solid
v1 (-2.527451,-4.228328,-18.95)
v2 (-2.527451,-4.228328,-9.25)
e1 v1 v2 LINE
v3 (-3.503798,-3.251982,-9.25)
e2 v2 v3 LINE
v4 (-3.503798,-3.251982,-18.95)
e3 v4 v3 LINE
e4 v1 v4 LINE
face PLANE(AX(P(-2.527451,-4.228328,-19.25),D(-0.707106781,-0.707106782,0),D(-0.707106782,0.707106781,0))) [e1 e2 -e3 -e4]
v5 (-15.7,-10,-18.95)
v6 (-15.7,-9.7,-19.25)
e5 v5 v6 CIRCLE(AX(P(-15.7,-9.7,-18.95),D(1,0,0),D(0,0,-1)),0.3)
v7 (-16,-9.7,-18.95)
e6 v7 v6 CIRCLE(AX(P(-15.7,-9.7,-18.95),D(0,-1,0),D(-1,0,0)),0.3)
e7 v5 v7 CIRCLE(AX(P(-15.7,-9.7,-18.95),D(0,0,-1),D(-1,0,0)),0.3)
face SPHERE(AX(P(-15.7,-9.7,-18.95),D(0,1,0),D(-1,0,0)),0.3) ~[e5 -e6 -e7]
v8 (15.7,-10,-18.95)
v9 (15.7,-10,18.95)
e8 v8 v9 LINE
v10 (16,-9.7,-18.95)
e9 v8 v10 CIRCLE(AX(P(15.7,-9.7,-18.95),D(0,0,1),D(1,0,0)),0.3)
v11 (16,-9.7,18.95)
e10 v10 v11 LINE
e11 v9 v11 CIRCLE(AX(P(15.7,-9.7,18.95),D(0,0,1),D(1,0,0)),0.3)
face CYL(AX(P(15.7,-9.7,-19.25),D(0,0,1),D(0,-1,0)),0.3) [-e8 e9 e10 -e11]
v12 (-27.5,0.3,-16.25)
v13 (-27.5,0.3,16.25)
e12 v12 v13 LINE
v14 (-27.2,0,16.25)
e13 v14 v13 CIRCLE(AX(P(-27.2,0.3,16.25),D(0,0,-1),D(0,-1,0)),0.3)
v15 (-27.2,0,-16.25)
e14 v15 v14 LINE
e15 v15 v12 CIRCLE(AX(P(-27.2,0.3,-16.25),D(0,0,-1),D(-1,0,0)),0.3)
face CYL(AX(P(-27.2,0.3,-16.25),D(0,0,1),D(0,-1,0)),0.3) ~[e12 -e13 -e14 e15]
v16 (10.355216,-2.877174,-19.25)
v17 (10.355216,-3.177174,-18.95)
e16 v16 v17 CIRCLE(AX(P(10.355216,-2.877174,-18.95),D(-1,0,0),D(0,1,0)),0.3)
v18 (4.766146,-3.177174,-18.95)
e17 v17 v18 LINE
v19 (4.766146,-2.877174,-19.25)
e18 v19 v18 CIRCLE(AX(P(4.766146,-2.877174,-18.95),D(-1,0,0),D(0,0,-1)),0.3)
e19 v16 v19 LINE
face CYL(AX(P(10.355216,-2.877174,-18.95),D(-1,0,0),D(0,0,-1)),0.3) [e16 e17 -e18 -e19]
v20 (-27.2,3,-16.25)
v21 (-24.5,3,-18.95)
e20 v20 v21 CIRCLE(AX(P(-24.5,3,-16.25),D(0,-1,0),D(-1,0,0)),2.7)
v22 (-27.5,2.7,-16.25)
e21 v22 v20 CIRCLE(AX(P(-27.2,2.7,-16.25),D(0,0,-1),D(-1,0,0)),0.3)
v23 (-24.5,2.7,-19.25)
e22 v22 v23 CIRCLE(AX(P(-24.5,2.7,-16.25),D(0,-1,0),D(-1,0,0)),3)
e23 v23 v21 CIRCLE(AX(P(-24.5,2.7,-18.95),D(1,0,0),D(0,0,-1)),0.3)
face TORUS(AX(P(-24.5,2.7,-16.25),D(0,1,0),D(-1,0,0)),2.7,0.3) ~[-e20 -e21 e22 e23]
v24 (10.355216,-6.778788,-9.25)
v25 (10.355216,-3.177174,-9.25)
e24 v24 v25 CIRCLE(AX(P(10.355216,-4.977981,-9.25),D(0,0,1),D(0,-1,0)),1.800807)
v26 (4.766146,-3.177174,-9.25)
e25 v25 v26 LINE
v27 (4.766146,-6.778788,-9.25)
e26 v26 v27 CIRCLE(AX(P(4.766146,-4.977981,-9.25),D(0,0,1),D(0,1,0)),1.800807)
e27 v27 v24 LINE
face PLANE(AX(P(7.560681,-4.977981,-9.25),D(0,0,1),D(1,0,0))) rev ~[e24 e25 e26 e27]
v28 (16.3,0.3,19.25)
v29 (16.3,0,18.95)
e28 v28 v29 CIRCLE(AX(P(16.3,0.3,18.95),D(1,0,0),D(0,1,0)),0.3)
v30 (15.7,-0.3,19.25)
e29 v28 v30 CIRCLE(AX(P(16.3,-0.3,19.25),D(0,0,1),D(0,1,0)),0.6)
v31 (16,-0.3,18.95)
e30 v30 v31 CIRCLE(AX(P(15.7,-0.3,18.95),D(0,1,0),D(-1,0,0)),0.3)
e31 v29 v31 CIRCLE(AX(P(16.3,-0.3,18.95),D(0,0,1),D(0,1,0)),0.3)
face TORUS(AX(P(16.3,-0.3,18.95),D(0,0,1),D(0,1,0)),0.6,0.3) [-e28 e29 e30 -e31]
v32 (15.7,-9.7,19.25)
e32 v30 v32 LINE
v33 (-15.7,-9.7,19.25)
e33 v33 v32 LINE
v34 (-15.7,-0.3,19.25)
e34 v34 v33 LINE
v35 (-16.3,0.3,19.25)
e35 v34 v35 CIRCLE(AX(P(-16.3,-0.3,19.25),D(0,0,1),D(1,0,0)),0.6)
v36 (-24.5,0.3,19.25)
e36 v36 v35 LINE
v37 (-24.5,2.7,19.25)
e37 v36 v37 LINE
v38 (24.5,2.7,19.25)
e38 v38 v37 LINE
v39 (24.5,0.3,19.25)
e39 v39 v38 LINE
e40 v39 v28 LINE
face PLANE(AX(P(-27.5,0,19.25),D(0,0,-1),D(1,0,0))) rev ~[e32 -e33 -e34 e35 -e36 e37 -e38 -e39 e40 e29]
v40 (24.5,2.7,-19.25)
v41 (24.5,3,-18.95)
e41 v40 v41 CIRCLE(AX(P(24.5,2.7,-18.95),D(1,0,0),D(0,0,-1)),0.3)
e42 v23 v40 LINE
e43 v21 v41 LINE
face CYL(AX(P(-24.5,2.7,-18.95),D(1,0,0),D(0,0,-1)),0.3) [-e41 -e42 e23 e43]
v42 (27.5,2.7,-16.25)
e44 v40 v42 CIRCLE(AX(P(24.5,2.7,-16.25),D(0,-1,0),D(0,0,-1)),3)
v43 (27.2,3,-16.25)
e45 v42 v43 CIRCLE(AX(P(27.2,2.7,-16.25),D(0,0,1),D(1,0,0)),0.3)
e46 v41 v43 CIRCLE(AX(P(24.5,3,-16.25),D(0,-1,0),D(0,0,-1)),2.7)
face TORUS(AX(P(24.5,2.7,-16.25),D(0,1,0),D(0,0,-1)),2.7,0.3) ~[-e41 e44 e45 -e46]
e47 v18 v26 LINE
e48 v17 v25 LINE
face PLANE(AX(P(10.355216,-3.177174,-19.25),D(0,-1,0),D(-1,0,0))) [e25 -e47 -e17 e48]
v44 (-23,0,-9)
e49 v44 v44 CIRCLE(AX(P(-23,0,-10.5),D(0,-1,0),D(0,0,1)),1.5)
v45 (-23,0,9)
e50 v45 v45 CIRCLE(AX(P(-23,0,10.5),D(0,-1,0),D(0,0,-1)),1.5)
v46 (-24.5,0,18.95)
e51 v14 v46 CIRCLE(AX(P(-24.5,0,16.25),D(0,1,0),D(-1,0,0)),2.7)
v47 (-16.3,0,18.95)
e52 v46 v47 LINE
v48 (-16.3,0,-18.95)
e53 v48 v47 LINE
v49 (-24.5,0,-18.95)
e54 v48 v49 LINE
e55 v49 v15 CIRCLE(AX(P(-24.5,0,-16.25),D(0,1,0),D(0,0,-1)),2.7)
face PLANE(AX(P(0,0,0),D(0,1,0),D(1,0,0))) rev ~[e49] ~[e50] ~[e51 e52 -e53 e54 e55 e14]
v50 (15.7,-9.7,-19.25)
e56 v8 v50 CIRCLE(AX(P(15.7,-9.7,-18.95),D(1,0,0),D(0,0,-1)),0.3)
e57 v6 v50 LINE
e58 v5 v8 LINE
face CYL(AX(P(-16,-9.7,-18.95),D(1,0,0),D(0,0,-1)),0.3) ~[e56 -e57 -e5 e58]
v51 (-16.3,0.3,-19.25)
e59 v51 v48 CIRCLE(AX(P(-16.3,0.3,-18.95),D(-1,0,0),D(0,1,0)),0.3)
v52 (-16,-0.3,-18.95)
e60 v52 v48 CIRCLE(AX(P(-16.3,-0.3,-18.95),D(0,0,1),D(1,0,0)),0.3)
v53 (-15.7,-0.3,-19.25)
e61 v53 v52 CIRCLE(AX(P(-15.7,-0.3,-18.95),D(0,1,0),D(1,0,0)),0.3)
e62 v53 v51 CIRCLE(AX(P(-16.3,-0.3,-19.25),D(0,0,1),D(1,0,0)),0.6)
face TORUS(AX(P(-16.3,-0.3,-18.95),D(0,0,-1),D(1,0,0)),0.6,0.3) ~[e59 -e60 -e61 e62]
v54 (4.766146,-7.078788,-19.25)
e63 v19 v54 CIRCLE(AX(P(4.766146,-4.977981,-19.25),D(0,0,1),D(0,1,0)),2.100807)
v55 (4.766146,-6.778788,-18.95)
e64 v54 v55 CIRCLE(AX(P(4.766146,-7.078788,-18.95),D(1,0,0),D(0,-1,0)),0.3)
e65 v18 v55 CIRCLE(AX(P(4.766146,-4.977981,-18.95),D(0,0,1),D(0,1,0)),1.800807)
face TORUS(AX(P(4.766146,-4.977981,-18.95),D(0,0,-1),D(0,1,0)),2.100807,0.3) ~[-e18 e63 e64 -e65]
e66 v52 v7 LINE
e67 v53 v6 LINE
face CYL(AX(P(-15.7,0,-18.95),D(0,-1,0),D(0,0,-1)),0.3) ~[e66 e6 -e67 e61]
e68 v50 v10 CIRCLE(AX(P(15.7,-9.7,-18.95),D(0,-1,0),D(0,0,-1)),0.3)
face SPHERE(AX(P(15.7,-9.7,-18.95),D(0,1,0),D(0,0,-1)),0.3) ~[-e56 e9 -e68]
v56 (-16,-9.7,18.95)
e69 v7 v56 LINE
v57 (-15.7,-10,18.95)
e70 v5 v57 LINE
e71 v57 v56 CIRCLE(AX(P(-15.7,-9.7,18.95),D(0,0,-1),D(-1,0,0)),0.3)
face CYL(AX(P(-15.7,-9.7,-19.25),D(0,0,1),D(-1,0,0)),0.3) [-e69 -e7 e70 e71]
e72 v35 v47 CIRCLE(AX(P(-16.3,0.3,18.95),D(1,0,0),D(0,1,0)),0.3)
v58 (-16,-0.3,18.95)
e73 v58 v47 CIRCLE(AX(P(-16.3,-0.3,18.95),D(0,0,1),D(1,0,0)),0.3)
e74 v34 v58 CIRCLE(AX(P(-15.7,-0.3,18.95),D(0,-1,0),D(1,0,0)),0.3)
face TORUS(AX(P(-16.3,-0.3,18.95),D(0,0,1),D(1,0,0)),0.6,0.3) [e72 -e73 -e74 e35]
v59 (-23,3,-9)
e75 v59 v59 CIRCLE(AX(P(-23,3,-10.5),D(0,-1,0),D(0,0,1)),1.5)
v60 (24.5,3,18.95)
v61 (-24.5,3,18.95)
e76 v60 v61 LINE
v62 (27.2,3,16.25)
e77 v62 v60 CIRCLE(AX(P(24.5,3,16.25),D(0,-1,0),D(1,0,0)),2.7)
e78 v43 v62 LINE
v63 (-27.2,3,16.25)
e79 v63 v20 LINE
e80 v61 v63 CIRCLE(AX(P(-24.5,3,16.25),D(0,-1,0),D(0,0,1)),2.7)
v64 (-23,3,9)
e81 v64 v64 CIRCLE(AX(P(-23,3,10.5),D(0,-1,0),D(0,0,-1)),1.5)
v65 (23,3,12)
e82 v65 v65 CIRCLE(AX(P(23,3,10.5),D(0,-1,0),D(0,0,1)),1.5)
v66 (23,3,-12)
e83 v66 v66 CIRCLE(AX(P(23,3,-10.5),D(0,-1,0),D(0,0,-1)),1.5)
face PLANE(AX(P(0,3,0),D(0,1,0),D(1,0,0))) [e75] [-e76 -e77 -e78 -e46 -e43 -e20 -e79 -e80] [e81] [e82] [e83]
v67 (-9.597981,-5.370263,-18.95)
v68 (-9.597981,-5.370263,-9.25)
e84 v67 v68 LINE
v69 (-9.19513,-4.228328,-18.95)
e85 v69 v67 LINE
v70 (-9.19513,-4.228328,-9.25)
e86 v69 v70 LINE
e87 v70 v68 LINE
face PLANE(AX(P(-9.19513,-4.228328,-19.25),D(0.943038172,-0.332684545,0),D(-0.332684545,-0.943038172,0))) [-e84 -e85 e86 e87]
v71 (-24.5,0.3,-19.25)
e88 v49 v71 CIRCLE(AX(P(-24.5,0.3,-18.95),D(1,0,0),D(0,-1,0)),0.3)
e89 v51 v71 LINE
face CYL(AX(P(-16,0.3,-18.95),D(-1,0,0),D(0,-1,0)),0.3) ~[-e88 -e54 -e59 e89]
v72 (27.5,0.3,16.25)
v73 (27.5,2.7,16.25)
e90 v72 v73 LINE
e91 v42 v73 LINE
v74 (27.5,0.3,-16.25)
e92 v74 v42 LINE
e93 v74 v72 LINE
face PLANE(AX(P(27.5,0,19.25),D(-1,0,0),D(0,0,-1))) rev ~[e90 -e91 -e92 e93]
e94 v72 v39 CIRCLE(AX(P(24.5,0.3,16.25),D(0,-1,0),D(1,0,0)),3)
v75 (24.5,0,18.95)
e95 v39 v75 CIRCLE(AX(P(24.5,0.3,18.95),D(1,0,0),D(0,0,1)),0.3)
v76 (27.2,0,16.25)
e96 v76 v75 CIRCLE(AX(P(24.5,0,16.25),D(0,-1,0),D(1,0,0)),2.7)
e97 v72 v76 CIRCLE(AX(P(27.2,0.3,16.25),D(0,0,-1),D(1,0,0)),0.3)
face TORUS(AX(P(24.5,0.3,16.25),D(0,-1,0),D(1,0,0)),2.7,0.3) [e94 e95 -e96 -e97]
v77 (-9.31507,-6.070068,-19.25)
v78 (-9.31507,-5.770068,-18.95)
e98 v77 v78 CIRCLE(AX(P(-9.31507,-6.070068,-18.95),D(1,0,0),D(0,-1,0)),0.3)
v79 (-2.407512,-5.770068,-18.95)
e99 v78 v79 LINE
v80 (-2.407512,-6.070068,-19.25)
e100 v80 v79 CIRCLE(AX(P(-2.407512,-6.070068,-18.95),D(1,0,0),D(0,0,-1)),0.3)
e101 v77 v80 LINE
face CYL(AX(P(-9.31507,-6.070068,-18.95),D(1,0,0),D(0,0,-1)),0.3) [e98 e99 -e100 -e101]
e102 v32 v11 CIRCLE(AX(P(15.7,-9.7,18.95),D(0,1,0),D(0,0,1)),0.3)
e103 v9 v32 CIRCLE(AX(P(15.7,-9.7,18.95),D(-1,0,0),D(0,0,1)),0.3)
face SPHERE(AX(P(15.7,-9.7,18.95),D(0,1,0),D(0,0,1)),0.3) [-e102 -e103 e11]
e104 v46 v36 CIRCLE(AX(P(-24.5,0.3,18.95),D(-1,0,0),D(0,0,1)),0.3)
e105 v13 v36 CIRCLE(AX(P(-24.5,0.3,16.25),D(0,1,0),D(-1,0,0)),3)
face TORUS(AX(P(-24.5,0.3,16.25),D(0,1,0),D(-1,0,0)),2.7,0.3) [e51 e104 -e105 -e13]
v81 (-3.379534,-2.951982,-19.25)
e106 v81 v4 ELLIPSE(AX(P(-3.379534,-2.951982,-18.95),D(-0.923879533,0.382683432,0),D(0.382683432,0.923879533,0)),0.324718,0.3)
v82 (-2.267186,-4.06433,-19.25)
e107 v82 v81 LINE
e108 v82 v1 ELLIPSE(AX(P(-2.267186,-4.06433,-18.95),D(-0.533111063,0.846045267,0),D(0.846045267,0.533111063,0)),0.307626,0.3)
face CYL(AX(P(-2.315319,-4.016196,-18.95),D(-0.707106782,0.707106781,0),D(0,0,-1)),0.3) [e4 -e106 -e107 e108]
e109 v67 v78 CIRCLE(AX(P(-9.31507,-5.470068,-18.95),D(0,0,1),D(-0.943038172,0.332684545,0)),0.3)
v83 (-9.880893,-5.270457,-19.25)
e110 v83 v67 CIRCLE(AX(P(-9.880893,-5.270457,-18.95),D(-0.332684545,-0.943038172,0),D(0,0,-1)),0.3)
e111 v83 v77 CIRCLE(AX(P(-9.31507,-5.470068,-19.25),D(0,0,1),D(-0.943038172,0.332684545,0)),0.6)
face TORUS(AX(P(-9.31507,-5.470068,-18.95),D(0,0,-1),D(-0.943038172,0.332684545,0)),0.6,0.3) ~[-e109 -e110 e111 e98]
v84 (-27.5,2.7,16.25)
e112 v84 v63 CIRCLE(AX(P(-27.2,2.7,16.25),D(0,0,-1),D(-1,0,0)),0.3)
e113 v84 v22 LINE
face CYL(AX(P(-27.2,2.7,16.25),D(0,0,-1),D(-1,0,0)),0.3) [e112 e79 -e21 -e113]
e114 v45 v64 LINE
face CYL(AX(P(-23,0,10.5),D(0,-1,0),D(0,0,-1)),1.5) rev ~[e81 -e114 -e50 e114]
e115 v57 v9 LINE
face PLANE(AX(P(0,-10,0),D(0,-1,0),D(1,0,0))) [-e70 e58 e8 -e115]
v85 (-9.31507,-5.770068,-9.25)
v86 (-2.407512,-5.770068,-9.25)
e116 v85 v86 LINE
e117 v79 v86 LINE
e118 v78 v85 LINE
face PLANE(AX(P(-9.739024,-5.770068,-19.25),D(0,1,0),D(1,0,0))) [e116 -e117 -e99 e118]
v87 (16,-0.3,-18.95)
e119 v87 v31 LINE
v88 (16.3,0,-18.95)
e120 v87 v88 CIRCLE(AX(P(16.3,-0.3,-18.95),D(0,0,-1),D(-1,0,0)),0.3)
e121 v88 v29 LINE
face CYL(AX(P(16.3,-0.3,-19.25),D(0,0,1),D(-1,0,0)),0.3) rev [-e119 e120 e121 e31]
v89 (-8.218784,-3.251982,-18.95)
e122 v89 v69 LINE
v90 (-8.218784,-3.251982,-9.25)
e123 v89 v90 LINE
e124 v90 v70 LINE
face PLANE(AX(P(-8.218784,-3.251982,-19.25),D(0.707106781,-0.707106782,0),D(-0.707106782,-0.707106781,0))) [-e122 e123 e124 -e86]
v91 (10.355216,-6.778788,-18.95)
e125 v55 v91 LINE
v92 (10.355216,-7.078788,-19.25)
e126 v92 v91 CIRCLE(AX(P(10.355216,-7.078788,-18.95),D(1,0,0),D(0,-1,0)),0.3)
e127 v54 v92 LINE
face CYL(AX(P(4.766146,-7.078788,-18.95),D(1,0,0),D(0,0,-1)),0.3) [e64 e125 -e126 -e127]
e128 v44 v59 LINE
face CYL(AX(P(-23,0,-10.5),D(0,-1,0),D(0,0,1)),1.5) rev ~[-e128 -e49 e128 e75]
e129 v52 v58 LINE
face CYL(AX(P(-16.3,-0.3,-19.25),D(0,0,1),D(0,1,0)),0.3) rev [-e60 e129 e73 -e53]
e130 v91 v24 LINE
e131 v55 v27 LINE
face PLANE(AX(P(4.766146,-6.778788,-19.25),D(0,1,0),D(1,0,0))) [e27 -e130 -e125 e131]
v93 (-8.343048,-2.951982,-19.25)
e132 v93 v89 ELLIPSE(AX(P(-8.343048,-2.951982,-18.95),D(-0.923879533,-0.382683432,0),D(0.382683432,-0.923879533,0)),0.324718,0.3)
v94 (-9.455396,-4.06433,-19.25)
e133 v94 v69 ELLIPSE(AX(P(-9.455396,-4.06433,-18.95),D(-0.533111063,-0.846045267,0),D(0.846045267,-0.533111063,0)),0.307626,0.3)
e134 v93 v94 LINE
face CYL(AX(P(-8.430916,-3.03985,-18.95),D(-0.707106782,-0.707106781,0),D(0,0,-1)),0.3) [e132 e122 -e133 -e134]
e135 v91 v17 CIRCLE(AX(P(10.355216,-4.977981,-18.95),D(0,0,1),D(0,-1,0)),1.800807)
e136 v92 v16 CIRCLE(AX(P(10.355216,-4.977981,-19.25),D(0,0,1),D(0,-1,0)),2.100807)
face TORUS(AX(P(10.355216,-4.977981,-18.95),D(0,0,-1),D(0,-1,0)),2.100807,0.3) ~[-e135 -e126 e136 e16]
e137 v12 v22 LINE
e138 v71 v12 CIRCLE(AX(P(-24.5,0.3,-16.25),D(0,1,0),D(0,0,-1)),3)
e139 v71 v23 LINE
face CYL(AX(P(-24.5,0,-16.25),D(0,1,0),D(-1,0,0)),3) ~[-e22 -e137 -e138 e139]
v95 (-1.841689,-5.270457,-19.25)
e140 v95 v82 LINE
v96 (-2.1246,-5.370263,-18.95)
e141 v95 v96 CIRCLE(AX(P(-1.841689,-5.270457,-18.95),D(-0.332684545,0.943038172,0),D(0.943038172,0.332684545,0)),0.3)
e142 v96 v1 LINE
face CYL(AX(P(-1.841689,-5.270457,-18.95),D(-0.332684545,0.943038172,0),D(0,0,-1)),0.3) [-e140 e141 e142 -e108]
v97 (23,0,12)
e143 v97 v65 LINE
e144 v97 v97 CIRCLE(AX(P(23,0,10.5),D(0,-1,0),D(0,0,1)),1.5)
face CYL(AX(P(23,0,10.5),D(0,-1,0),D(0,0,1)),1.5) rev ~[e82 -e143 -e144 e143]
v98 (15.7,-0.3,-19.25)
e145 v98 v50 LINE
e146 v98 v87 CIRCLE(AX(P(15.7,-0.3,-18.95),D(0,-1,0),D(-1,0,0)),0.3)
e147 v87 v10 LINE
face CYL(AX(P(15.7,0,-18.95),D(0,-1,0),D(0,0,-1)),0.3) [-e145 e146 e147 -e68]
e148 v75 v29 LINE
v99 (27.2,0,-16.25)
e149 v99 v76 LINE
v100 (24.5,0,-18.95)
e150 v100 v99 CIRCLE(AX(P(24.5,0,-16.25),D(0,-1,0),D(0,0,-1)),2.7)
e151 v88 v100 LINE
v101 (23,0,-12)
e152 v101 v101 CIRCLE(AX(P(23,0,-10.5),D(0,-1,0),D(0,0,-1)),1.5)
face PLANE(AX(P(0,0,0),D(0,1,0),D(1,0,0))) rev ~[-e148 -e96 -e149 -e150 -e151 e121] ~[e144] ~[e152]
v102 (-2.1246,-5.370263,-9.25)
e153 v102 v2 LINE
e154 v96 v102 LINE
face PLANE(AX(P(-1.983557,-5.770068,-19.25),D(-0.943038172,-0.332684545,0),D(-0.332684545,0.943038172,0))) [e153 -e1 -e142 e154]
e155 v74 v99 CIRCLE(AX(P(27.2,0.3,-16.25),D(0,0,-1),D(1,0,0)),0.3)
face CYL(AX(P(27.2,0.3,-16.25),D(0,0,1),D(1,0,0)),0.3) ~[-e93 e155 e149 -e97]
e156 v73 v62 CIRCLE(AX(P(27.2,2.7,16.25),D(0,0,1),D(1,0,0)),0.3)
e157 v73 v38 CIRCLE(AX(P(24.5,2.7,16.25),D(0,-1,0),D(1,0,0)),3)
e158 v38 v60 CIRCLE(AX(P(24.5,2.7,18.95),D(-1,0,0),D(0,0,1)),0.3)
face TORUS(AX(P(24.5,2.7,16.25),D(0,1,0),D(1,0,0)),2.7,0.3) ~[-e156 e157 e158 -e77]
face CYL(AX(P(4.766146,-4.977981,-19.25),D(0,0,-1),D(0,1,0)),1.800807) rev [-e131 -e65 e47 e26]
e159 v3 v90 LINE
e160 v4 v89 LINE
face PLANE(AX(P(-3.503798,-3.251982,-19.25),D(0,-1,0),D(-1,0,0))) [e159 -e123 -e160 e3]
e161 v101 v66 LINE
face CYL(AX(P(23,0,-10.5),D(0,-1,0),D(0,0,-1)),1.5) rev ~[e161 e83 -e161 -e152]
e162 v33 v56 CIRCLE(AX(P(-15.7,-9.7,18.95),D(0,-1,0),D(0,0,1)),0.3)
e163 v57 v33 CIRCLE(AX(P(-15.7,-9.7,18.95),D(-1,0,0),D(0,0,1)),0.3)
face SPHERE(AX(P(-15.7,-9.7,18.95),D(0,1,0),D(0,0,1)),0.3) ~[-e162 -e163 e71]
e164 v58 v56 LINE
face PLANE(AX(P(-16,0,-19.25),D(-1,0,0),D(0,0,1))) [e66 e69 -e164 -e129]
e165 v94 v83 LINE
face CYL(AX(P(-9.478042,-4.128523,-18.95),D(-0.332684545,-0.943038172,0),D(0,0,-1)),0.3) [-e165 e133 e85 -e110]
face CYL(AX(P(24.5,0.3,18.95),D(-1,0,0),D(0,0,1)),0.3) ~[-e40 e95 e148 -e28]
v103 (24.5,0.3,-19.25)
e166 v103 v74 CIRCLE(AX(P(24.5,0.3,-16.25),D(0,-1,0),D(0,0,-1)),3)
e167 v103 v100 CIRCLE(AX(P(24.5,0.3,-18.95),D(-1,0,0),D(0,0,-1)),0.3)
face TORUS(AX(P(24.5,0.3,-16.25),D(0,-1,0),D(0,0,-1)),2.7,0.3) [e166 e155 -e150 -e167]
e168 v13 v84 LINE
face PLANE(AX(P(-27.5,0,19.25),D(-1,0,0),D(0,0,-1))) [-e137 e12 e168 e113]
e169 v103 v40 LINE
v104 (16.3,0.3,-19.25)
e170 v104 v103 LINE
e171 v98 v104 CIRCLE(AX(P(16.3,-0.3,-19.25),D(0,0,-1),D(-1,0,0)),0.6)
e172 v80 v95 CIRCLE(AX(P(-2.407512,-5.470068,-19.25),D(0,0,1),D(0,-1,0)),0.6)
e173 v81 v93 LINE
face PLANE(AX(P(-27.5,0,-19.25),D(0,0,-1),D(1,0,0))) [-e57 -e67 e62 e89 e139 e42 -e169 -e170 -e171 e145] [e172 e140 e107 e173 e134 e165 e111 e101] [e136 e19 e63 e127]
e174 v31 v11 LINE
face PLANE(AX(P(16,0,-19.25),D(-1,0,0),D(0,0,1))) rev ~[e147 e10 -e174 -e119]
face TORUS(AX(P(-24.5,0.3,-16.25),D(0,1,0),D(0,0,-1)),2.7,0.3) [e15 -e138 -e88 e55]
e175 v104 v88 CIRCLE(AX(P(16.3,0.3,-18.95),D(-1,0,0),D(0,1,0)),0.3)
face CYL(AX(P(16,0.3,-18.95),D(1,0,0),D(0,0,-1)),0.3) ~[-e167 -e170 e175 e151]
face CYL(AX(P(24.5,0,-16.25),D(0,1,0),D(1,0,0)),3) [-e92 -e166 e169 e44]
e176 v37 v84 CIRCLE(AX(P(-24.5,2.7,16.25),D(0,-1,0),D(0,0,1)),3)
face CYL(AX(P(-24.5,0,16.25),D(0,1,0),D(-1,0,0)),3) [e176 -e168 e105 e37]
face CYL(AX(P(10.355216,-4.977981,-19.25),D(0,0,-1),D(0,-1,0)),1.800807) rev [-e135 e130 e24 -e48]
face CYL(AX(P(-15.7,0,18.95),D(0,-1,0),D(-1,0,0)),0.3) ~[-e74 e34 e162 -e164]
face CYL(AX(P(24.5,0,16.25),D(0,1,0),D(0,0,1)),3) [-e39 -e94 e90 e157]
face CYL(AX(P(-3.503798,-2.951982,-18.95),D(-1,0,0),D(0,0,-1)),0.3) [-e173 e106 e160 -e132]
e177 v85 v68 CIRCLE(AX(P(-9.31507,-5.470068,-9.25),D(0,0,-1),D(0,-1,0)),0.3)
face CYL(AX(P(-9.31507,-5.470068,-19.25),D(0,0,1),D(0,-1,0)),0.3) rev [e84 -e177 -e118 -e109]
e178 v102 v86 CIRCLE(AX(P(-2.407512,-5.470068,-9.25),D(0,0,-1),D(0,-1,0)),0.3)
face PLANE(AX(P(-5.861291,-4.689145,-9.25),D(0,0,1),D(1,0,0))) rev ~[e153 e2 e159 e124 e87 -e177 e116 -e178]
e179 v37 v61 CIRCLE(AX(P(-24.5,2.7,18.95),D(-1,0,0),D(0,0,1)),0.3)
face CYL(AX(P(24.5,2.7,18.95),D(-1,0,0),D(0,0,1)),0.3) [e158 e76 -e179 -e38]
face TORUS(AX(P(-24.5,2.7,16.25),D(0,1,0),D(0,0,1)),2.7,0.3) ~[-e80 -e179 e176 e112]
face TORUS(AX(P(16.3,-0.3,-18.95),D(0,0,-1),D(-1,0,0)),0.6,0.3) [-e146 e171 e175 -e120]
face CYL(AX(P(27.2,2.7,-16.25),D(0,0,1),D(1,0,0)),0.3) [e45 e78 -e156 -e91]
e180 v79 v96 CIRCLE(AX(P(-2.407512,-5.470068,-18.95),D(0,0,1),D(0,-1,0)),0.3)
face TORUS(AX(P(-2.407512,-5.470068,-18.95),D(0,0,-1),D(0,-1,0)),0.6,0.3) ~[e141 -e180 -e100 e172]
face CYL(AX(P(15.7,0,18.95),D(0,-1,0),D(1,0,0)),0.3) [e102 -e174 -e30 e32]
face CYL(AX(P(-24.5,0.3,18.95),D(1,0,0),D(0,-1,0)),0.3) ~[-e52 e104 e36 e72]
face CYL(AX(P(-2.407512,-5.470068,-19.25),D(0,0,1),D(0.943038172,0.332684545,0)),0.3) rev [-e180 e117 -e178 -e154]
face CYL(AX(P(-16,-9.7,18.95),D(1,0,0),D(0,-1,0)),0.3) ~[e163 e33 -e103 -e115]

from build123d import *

# Parameters (mm, degrees)
SKETCH_1_W          = 55
SKETCH_1_H          = 38.5
EXTRUDE_1_DEPTH     = 3
FILLET_1_R          = 3
SKETCH_2_R          = 1.5
CUT_EXTRUDE_1_DEPTH = 3
SKETCH_3_W          = 32
SKETCH_3_H          = 38.5
EXTRUDE_2_DEPTH     = 10
CUT_EXTRUDE_2_DEPTH = 10
FILLET_2_R          = 0.3
FILLET_3_R          = 0.3


with BuildPart() as part:
    # 草图1 → 凸台-拉伸1 (new body)
    with BuildSketch(Plane(origin=(0, 0, 0), x_dir=(1, 0, 0), z_dir=(0, 1, 0))):
        Rectangle(SKETCH_1_W, SKETCH_1_H)
    extrude(amount=EXTRUDE_1_DEPTH)

    # 圆角1
    fillet_1_edges = [part.edges().sort_by_distance(p)[0] for p in [
        (27.5, 1.5, 19.25),
        (-27.5, 1.5, 19.25),
        (-27.5, 1.5, -19.25),
        (27.5, 1.5, -19.25),
    ]]
    fillet(fillet_1_edges, radius=FILLET_1_R)

    # 草图2 → 切除-拉伸1 (cut)
    with BuildSketch(Plane.XZ):
        with Locations(Location((-23, 10.5, 0), (0, 0, 270))):
            Circle(SKETCH_2_R)
        with Locations(Location((23, 10.5, 0), (0, 0, 90))):
            Circle(SKETCH_2_R)
        with Locations(Location((23, -10.5, 0), (0, 0, 270))):
            Circle(SKETCH_2_R)
        with Locations(Location((-23, -10.5, 0), (0, 0, 90))):
            Circle(SKETCH_2_R)
    extrude(amount=-CUT_EXTRUDE_1_DEPTH, mode=Mode.SUBTRACT)

    # 草图3 → 凸台-拉伸2 (add)
    with BuildSketch(Plane.XZ):
        Rectangle(SKETCH_3_W, SKETCH_3_H)
    extrude(amount=EXTRUDE_2_DEPTH)

    # 草图4 → 切除-拉伸2 (cut)
    with BuildSketch(Plane(origin=(0, 0, -19.25), x_dir=(-1, 0, 0), z_dir=(0, 0, -1))):
        with BuildLine():
            Line((-10.355216477, -3.177174499), (-4.766145944, -3.177174499))
            ThreePointArc((-4.766145944, -3.177174499), (-2.965338976, -4.977981467), (-4.766145944, -6.778788435))
            Line((-4.766145944, -6.778788435), (-10.355216477, -6.778788435))
            ThreePointArc((-10.355216477, -6.778788435), (-12.156023445, -4.977981467), (-10.355216477, -3.177174499))
        make_face()
        Polygon((3.50379775, -3.251981944), (8.218783887, -3.251981944), (9.195130237, -4.228328293), (9.739024451, -5.770068099), (1.983557186, -5.770068099), (2.5274514, -4.228328293), align=None)
    extrude(amount=-CUT_EXTRUDE_2_DEPTH, mode=Mode.SUBTRACT)

    # 圆角2
    fillet_2_edges = [part.edges().sort_by_distance(p)[0] for p in [
        (-9.739024451, -5.770068099, -14.25),
        (-1.983557186, -5.770068099, -14.25),
    ]]
    fillet(fillet_2_edges, radius=FILLET_2_R)

    # 圆角3
    fillet_3_edges = [part.edges().sort_by_distance(p)[0] for p in [
        (-9.396555774, -4.799295514, -19.25),
        (-5.861290819, -5.770068099, -19.25),
        (-9.559959231, -5.643357439, -19.25),
        (-2.162622406, -5.643357439, -19.25),
        (20.25, 0, -19.25),
        (0, 3, -19.25),
        (27.5, 0, 0),
        (-20.25, 0, 19.25),
        (-27.5, 0, 0),
        (-26.621320344, 0, -18.371320344),
        (-26.621320344, 0, 18.371320344),
        (26.621320344, 0, 18.371320344),
        (26.621320344, 0, -18.371320344),
        (27.5, 3, 0),
        (-27.5, 3, 0),
        (0, 3, 19.25),
        (-26.621320344, 3, -18.371320344),
        (-26.621320344, 3, 18.371320344),
        (26.621320344, 3, 18.371320344),
        (26.621320344, 3, -18.371320344),
        (-20.25, 0, -19.25),
        (20.25, 0, 19.25),
        (16, -5, 19.25),
        (-16, 0, 0),
        (-16, -5, 19.25),
        (-16, -5, -19.25),
        (16, 0, 0),
        (16, -5, -19.25),
        (0, -10, 19.25),
        (-16, -10, 0),
        (0, -10, -19.25),
        (16, -10, 0),
        (12.156023445, -4.977981467, -19.25),
        (7.560681211, -6.778788435, -19.25),
        (2.965338976, -4.977981467, -19.25),
        (7.560681211, -3.177174499, -19.25),
        (-3.015624575, -3.740155118, -19.25),
        (-2.326025863, -4.799295514, -19.25),
        (-8.706957062, -3.740155118, -19.25),
        (-5.861290819, -3.251981944, -19.25),
    ]]
    fillet(fillet_3_edges, radius=FILLET_3_R)


solid = part.part
